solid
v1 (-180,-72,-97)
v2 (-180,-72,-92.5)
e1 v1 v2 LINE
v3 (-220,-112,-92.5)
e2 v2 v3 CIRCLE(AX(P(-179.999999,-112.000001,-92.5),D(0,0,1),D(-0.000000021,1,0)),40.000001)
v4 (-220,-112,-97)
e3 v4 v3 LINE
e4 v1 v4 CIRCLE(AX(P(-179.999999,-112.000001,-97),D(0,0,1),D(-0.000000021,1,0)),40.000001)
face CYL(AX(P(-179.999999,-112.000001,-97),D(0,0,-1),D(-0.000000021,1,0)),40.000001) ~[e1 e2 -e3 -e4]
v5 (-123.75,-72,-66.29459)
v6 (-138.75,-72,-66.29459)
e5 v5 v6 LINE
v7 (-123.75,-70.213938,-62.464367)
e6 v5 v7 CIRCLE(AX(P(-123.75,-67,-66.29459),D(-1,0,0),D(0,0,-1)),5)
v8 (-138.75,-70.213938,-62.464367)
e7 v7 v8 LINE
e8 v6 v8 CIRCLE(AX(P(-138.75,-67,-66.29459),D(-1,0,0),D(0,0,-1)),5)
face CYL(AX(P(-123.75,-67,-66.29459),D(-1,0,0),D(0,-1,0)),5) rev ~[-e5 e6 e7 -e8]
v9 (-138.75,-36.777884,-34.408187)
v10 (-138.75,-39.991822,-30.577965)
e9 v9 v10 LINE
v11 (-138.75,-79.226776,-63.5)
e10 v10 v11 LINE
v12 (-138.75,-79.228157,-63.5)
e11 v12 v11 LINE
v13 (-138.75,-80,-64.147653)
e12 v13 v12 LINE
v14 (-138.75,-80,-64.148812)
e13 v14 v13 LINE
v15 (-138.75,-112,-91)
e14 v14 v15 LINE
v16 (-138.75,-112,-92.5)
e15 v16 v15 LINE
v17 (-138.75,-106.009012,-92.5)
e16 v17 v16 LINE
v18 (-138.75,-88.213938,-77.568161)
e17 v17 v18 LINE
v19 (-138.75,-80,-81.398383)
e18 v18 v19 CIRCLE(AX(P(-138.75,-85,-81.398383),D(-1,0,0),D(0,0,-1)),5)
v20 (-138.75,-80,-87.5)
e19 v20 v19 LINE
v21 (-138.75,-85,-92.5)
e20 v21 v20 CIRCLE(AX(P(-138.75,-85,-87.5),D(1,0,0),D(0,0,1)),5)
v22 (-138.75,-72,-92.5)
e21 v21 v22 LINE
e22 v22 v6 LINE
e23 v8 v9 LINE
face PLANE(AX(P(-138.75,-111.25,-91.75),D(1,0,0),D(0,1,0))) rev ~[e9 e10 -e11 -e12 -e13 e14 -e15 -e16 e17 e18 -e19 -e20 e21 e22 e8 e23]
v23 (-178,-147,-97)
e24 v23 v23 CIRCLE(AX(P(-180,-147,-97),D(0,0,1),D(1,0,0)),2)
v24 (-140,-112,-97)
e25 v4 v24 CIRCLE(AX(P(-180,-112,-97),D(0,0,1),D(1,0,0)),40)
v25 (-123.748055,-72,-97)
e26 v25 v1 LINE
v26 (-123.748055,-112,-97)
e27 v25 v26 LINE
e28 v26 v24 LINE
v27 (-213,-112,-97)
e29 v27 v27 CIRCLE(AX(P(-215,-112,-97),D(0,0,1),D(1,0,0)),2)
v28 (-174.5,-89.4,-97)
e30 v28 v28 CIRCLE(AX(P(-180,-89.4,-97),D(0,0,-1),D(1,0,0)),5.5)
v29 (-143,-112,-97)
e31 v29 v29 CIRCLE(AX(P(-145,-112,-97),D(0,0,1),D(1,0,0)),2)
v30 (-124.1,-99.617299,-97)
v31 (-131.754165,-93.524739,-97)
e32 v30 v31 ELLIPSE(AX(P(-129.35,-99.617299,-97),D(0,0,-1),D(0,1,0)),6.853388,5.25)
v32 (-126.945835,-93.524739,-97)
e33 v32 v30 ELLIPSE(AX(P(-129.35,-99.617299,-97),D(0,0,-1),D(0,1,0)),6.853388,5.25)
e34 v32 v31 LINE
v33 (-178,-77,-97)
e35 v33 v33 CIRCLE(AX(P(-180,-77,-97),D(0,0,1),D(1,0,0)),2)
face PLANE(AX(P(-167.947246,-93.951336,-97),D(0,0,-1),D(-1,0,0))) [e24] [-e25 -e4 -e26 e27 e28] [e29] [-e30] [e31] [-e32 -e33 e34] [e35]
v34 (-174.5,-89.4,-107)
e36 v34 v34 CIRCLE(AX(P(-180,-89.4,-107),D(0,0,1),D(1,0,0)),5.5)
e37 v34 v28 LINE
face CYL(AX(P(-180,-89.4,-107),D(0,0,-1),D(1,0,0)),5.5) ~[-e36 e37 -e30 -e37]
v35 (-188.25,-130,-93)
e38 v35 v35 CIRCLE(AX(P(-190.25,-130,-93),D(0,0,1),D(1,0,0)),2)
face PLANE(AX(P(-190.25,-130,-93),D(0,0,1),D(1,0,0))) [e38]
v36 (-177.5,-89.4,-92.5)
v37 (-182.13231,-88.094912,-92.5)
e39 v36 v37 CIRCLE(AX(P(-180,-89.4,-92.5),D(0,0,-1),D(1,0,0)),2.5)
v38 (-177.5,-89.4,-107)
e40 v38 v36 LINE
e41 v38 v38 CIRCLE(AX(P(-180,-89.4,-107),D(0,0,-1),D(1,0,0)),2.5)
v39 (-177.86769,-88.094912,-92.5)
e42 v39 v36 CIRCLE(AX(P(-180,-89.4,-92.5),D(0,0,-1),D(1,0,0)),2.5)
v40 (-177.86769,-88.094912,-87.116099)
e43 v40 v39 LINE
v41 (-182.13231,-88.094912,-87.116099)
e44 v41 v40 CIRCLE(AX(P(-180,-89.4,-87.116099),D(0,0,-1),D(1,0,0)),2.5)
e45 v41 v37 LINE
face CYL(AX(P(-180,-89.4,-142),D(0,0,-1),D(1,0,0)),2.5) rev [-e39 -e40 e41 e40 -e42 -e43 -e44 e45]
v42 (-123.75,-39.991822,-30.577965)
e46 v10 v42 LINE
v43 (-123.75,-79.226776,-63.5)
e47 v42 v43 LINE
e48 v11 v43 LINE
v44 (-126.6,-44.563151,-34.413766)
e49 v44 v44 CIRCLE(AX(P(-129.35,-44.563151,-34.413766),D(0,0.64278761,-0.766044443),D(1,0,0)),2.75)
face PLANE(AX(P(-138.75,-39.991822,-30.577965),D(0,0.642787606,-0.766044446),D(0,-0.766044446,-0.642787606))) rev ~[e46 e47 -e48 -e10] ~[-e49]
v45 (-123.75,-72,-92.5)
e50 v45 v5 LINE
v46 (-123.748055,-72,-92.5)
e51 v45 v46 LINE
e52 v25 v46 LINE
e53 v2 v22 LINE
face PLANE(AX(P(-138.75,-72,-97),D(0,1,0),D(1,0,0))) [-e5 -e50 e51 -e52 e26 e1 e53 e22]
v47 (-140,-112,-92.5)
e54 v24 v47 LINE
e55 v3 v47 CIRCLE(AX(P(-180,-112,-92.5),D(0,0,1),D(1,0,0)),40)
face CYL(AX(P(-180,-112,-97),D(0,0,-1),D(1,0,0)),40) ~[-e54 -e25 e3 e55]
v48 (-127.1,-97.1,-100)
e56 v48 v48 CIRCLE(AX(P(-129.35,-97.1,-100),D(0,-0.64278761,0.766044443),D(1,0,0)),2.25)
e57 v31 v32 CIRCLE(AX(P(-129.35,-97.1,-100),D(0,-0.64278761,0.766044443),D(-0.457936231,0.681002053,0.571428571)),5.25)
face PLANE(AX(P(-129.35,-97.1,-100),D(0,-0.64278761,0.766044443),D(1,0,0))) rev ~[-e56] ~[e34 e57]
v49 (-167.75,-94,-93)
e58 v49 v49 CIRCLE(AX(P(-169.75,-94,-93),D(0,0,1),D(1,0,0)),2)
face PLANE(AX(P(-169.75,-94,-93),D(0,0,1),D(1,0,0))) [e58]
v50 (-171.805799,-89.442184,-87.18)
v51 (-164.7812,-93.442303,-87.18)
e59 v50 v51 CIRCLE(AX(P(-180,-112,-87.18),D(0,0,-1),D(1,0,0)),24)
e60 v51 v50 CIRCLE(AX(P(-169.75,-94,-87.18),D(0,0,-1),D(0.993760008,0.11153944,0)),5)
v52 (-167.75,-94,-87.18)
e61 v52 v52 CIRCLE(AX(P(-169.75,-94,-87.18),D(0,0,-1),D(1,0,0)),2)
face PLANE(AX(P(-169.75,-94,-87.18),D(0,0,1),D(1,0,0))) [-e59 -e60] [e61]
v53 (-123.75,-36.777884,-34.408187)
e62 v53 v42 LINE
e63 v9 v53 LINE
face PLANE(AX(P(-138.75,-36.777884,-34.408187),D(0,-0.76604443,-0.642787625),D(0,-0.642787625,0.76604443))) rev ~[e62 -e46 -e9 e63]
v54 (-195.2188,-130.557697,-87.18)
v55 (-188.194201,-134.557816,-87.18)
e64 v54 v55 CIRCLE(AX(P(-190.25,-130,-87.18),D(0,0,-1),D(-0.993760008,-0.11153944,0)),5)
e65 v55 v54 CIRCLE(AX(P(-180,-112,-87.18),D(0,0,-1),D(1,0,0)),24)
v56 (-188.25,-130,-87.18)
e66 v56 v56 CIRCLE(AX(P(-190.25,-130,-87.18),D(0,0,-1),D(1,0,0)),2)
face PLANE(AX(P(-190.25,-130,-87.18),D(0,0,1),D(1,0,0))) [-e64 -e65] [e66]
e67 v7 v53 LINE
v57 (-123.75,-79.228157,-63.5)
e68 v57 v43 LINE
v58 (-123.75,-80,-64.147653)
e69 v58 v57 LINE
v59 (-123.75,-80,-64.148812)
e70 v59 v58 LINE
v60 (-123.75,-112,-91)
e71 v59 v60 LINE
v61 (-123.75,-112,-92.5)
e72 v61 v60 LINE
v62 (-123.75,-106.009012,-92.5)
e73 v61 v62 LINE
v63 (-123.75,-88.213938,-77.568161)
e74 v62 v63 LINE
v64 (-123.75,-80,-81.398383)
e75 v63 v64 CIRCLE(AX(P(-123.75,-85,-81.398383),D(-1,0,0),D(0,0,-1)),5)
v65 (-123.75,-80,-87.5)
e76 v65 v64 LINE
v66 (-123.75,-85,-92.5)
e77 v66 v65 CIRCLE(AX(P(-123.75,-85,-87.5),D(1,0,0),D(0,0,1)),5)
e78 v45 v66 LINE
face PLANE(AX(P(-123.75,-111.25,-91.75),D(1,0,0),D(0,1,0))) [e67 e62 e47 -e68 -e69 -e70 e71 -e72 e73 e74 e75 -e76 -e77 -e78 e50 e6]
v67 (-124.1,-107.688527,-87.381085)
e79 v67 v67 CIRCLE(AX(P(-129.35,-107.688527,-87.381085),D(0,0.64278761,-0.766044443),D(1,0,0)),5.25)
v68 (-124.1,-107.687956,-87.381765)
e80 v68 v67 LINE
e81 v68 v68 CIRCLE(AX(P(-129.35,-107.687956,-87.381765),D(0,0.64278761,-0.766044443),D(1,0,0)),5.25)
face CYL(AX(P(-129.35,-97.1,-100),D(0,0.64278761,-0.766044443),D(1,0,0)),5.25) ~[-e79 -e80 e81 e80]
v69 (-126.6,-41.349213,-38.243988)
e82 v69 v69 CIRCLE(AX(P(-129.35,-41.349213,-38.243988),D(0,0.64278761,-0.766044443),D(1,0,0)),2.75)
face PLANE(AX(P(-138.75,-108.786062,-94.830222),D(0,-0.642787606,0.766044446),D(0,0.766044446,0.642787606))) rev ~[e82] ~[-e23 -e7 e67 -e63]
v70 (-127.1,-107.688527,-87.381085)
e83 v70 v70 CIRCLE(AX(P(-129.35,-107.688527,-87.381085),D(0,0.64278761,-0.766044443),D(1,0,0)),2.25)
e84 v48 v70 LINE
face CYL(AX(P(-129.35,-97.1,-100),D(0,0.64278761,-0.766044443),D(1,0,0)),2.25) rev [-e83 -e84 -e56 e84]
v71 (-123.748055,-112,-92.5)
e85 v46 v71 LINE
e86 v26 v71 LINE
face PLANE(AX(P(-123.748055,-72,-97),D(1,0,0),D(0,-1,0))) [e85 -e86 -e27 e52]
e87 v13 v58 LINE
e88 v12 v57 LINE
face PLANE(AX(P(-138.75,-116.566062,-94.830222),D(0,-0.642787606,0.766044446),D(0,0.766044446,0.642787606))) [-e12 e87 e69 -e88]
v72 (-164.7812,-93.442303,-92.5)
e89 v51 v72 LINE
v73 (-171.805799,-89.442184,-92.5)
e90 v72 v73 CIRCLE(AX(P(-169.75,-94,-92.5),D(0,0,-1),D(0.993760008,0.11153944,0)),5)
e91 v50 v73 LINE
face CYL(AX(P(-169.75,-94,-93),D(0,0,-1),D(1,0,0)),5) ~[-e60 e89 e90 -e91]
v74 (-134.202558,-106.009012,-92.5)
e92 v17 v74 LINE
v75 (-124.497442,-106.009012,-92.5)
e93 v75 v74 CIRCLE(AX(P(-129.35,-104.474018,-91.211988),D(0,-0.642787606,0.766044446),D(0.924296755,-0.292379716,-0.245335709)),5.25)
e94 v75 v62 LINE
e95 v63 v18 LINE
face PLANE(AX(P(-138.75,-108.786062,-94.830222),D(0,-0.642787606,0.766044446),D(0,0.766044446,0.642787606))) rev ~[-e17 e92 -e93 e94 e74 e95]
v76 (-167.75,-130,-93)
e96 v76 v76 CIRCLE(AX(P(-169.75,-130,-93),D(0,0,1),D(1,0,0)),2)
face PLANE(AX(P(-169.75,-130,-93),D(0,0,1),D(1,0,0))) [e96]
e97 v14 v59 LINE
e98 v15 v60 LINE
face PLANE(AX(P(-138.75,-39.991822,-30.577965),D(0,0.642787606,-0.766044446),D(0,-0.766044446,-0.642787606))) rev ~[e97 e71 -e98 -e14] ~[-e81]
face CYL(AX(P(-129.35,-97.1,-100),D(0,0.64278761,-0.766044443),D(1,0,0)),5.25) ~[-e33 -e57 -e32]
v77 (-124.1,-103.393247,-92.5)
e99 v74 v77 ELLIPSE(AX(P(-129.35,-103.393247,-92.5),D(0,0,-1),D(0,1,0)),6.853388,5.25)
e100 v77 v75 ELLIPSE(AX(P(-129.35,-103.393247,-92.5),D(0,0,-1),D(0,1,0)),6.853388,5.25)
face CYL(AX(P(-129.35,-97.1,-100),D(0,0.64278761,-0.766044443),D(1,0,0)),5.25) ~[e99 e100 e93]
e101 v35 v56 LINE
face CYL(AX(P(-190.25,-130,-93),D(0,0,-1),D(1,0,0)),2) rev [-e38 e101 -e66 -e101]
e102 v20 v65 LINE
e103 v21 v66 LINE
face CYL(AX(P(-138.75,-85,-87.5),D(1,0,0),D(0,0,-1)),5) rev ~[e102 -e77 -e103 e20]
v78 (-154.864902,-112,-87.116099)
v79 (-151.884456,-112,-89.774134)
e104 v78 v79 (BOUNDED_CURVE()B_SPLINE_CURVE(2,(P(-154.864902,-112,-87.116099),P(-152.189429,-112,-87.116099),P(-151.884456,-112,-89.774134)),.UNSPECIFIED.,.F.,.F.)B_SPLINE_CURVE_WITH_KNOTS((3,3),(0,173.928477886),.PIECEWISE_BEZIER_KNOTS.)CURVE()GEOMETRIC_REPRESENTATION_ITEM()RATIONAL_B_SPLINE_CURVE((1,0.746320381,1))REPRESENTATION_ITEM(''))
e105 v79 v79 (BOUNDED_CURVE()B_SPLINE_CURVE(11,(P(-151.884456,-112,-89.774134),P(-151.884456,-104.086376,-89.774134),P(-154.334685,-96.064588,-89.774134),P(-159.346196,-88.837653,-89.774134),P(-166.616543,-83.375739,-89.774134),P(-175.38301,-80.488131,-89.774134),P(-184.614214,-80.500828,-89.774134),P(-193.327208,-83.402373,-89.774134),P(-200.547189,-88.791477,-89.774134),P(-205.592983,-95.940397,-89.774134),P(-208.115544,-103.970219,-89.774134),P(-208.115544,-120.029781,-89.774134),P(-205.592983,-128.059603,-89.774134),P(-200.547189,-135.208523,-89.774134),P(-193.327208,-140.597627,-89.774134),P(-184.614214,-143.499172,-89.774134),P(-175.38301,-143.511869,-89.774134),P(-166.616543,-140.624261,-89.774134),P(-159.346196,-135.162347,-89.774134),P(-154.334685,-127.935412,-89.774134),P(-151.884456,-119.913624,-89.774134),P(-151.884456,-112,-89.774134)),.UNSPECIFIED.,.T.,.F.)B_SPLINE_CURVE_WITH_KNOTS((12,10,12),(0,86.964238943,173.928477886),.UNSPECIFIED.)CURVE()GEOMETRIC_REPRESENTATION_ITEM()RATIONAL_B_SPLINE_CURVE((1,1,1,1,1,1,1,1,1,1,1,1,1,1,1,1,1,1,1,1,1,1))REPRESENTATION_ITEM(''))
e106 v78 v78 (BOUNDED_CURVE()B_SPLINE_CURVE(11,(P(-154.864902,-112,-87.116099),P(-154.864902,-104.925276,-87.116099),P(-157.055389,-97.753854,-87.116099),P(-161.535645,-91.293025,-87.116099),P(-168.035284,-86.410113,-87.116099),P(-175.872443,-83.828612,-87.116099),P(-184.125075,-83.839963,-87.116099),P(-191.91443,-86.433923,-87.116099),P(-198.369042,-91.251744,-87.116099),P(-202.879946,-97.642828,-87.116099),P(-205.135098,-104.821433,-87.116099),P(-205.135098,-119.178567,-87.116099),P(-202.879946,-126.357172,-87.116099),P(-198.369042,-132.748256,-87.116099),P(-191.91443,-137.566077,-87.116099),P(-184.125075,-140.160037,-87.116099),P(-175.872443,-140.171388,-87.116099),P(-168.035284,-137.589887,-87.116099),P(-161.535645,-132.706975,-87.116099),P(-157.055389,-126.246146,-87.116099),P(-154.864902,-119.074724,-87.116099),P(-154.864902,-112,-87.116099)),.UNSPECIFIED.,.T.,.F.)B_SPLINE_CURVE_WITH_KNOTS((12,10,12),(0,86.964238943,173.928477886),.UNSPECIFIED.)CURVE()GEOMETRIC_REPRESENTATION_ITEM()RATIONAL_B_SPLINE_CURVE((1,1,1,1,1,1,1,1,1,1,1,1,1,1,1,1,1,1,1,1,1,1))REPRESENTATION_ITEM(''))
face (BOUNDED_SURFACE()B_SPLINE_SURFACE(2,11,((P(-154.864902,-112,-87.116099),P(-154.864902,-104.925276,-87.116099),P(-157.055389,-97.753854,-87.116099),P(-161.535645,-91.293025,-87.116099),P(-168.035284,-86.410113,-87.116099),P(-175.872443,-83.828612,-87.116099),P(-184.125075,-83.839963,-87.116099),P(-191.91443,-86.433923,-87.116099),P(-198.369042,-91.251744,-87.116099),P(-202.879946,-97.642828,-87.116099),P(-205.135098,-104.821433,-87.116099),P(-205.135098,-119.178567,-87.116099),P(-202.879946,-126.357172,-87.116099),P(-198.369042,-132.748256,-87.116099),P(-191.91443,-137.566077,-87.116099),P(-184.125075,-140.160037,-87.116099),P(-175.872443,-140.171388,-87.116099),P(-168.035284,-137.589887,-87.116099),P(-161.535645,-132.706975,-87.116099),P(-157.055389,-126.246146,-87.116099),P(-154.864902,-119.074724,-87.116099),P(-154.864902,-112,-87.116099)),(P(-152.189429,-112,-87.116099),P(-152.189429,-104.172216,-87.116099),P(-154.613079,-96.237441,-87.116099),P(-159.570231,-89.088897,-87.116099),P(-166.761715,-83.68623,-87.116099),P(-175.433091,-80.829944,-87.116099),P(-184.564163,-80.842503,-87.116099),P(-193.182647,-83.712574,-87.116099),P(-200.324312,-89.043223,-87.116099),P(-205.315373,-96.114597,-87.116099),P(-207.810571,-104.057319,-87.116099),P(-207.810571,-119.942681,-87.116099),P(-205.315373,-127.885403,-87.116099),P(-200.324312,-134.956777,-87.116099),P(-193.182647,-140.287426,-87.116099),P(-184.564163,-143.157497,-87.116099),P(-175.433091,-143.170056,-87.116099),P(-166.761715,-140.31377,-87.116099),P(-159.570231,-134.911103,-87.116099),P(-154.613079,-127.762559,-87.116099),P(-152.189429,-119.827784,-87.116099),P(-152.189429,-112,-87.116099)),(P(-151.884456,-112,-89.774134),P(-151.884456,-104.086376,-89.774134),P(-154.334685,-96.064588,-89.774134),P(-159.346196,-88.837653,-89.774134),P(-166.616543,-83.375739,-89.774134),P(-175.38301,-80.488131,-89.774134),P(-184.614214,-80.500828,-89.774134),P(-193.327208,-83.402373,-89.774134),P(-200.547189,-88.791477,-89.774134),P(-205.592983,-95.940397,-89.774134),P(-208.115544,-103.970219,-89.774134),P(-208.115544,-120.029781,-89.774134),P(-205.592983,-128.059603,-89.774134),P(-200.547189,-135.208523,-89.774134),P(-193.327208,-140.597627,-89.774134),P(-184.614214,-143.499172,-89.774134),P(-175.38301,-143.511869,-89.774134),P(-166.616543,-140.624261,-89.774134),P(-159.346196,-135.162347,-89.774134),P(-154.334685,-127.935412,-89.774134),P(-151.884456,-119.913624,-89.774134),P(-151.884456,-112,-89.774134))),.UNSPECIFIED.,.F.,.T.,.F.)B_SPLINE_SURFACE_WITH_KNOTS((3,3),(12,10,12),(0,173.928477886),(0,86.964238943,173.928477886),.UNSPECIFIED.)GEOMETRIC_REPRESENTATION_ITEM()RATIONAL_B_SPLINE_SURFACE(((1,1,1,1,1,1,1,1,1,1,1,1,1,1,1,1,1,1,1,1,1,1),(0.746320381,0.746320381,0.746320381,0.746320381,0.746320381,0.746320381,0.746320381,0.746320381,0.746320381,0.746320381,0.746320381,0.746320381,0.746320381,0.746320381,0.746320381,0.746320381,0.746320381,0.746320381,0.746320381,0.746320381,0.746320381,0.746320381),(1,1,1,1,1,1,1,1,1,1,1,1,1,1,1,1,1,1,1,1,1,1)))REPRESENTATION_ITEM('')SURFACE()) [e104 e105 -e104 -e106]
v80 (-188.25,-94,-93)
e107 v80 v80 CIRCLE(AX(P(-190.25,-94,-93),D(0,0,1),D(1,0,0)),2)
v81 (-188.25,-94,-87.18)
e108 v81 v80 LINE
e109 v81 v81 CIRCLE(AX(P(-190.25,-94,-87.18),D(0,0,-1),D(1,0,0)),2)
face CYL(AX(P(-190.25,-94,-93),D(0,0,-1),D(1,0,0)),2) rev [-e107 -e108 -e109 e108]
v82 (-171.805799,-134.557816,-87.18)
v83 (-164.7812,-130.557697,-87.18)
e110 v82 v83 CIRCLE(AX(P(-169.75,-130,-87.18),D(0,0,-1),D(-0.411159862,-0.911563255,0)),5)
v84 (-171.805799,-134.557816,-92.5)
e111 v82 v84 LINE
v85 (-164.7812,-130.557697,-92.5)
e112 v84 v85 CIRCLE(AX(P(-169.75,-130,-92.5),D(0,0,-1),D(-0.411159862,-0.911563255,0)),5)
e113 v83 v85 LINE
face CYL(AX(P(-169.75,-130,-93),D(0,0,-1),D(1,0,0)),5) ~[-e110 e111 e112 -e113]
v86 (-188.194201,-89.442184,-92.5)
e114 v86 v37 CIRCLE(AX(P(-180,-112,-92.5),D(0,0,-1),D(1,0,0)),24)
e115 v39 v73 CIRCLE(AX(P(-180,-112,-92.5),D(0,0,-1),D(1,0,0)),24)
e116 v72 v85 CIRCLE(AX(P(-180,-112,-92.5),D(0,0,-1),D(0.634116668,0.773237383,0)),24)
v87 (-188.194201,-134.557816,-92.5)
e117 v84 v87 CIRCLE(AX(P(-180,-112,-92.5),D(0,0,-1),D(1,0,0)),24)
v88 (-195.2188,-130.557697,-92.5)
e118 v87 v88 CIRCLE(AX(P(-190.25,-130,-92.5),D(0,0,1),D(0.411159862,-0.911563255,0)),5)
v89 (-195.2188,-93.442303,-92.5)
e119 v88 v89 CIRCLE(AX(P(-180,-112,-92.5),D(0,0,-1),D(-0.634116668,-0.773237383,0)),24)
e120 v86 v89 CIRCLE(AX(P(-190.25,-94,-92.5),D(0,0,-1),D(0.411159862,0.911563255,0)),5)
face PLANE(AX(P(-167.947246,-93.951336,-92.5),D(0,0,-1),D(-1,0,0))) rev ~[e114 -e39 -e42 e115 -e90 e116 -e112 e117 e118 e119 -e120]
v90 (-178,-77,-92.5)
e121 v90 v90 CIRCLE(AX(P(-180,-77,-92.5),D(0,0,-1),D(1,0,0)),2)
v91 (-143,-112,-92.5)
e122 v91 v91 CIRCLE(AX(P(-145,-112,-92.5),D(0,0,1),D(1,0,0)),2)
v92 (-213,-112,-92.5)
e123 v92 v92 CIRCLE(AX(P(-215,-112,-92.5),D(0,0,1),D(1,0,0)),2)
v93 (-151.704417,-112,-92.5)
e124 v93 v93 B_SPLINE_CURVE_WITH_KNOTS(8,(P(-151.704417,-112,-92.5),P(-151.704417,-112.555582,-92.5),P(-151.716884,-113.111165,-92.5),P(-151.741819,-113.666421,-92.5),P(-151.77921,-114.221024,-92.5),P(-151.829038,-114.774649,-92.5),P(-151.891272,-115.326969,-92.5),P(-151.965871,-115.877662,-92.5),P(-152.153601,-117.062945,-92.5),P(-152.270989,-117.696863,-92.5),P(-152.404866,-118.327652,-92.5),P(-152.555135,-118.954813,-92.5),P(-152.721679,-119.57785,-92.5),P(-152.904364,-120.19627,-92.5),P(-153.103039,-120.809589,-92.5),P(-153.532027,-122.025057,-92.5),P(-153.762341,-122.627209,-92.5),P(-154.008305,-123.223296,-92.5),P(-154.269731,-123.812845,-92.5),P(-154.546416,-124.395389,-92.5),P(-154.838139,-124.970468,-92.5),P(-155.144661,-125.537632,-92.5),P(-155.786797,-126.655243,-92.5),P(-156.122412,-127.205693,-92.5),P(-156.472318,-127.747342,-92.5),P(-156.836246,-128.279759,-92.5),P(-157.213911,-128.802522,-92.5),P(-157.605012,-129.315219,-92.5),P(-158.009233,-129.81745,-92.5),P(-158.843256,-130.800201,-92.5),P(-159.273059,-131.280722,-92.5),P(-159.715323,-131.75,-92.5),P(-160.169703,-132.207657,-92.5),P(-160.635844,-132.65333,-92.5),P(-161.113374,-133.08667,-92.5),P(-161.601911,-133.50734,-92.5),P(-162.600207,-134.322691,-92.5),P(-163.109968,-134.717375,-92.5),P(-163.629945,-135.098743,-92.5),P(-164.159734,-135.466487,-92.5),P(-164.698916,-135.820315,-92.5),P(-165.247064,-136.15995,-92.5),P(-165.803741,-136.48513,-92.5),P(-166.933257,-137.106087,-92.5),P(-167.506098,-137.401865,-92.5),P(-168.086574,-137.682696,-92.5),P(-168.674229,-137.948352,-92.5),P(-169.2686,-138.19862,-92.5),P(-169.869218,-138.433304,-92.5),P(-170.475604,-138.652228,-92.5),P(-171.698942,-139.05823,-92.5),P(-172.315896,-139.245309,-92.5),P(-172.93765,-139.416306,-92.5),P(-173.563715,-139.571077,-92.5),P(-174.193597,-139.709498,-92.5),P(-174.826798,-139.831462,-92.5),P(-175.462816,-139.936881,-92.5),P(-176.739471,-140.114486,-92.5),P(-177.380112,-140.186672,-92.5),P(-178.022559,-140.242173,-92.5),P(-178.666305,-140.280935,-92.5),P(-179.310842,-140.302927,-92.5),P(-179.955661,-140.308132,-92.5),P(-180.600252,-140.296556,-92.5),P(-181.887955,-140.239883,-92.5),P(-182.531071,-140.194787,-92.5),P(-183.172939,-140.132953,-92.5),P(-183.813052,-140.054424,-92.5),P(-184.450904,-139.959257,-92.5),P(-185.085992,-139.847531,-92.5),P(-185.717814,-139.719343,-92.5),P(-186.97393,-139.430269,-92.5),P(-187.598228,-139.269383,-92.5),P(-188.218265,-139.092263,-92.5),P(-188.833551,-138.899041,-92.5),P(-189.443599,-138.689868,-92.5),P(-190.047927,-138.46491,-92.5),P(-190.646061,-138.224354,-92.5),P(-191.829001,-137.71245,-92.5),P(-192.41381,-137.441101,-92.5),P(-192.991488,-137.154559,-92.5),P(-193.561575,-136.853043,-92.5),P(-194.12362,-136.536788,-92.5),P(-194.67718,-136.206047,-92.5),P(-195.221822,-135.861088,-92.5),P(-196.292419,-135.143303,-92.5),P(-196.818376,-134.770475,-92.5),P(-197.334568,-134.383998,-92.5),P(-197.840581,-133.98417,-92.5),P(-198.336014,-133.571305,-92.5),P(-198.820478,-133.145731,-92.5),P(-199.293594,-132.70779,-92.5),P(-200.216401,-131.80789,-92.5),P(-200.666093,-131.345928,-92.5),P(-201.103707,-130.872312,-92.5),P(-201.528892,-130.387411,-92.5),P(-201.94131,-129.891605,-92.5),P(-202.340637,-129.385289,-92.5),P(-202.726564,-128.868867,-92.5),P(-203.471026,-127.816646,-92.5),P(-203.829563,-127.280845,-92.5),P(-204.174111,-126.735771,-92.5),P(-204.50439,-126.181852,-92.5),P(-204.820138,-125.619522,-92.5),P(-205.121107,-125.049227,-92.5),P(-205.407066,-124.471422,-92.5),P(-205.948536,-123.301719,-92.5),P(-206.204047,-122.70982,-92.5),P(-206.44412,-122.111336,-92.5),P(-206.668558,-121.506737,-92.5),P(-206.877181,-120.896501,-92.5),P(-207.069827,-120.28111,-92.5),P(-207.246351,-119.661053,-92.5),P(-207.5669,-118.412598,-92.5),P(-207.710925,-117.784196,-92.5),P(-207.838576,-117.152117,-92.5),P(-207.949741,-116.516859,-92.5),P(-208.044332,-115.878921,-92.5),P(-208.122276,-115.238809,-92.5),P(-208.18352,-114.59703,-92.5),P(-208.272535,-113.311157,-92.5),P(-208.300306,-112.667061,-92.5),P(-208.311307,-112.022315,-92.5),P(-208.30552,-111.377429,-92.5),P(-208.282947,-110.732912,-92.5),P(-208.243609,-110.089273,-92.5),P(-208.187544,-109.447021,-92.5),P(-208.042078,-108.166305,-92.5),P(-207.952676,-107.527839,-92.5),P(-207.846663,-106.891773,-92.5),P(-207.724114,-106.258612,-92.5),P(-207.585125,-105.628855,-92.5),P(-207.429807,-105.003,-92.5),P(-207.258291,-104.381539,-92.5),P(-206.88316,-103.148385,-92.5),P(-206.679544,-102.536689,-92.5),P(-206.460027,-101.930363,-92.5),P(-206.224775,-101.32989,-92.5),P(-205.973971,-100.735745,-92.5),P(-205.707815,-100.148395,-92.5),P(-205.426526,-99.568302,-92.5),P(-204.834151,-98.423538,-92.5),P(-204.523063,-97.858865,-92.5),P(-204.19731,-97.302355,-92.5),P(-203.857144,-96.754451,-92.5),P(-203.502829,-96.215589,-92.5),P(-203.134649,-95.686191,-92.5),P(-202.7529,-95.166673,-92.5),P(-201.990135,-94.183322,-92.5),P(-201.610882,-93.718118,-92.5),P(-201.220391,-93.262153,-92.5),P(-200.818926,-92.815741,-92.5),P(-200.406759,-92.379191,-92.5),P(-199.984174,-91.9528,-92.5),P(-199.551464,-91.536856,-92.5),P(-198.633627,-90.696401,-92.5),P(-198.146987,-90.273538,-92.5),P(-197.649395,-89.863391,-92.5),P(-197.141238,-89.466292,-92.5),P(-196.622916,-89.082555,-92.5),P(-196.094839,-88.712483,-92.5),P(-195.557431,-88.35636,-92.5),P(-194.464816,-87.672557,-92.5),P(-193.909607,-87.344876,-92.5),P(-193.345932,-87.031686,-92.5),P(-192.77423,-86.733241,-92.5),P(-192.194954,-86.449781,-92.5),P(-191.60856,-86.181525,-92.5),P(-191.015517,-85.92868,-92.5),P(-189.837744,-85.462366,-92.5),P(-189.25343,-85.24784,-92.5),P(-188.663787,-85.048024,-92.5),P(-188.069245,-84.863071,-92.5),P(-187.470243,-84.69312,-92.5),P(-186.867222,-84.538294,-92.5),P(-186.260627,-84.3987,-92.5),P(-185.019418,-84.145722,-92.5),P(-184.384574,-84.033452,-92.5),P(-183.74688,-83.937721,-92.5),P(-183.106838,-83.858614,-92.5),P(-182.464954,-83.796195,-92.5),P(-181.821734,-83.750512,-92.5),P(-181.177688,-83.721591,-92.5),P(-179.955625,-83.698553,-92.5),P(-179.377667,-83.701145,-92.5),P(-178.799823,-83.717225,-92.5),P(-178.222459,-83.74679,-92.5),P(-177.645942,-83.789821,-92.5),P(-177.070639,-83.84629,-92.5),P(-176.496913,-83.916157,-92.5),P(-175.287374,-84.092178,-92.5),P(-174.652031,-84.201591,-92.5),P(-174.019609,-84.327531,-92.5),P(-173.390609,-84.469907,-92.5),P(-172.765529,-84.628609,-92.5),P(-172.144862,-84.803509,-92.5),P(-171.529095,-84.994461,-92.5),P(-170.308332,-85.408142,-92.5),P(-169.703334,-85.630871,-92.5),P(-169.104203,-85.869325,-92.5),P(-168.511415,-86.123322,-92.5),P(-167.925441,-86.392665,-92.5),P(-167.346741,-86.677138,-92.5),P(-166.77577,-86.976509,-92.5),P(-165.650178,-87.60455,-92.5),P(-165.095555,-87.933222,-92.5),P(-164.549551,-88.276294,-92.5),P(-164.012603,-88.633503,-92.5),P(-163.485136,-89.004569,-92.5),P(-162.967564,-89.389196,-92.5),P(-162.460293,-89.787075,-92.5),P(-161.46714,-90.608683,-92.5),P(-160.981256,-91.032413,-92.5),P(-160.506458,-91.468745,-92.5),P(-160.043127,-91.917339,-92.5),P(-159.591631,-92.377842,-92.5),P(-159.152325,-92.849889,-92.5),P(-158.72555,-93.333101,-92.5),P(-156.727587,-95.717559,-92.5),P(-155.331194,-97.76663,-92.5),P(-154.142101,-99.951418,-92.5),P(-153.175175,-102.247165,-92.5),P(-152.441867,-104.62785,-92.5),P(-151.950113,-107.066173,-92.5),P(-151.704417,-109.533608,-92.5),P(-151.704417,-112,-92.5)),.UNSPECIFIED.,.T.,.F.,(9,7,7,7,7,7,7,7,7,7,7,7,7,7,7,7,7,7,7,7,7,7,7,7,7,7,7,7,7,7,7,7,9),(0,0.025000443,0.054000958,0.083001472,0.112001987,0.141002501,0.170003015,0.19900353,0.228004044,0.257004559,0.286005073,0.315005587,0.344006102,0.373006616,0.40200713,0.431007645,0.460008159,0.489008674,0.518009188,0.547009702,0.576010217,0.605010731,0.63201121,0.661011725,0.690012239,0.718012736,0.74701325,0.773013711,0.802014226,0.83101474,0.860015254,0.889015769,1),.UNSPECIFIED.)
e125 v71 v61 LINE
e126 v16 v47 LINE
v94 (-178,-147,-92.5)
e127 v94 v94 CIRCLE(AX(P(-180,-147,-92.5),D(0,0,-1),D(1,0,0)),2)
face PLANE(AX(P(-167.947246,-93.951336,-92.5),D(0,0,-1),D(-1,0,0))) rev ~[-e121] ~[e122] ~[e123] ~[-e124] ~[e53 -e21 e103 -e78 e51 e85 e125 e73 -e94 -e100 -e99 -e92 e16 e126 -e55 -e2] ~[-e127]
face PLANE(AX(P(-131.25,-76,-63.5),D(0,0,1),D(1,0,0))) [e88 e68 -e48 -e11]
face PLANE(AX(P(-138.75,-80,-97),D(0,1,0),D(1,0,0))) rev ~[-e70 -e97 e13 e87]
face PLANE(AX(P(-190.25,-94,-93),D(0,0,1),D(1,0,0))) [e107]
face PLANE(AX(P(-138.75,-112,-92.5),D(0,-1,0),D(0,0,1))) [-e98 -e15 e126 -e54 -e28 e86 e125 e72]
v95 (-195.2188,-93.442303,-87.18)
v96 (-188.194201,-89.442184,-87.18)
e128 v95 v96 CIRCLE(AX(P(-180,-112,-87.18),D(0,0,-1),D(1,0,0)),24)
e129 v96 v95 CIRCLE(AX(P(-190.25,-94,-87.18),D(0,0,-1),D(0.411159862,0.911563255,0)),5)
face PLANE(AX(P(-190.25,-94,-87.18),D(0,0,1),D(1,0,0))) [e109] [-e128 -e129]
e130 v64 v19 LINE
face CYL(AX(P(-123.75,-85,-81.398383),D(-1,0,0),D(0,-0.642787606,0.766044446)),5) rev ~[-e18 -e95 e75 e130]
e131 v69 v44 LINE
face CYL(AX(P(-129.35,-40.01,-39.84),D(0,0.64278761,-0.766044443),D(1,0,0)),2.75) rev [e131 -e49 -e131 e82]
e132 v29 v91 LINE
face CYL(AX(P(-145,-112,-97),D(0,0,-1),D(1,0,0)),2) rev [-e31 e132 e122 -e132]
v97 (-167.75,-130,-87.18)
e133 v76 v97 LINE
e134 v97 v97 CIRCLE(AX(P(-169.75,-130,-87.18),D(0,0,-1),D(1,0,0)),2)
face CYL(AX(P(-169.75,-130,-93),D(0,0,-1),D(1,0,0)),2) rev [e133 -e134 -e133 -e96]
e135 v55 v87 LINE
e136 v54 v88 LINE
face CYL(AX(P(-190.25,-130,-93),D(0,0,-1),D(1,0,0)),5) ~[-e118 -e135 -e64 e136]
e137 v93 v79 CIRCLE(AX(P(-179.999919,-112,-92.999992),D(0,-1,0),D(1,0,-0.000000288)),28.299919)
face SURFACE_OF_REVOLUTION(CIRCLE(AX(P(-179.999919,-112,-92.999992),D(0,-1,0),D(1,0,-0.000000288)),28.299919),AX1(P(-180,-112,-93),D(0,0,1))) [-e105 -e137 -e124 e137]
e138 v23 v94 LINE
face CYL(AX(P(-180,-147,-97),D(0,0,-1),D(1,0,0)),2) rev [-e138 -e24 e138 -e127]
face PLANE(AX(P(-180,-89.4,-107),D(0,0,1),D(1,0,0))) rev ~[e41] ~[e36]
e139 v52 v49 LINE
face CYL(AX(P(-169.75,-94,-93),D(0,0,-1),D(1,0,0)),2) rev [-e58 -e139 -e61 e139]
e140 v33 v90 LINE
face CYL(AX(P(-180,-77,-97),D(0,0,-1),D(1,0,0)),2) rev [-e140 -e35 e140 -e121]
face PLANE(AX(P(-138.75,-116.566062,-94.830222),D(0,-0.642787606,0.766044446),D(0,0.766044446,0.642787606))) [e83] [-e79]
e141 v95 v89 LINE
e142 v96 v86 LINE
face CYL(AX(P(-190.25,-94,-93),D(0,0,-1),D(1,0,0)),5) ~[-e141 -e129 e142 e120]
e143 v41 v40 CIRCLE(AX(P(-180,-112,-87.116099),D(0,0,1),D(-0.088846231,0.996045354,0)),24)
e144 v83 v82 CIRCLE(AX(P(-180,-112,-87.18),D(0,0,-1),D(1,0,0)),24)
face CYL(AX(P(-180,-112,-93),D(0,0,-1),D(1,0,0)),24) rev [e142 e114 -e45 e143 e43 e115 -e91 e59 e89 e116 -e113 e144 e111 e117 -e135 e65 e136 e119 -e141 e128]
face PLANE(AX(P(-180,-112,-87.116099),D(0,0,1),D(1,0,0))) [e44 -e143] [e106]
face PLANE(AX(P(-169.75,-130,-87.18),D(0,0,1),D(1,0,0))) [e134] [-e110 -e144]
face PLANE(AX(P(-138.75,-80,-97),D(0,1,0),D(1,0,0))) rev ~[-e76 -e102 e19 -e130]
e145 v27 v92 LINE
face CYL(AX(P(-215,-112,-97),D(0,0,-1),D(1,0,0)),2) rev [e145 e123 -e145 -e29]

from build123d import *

# Parameters (mm, degrees)
SKETCH069_W                 = 1.5
SKETCH069_H                 = 1.5
EXTRUDE022_DEPTH            = 15
EXTRUDE021_DEPTH            = 15
CYLINDER126_R               = 2.75
CYLINDER126_DEPTH           = 10
CYLINDER126_PLACEMENT_ANGLE = 40
CYLINDER127_R               = 2.25
CYLINDER127_DEPTH           = 21
CYLINDER127_PLACEMENT_ANGLE = 40
CYLINDER117_R               = 2
CYLINDER117_DEPTH           = 10
CYLINDER118_R               = 2
CYLINDER118_DEPTH           = 10
CYLINDER119_R               = 2
CYLINDER119_DEPTH           = 10
CYLINDER116_R               = 2
CYLINDER116_DEPTH           = 10
CYLINDER124_R               = 2.5
CYLINDER124_DEPTH           = 60
CYLINDER120_R               = 2
CYLINDER120_DEPTH           = 10
CYLINDER121_R               = 2
CYLINDER121_DEPTH           = 10
CYLINDER122_R               = 2
CYLINDER122_DEPTH           = 10
CYLINDER123_R               = 2
CYLINDER123_DEPTH           = 10
EXTRUDE019_DEPTH            = 4.5
CYLINDER101_R               = 2
CYLINDER101_DEPTH           = 10
CYLINDER102_R               = 2
CYLINDER102_DEPTH           = 10
CYLINDER103_R               = 2
CYLINDER103_DEPTH           = 10
CYLINDER100_R               = 2
CYLINDER100_DEPTH           = 10
CYLINDER110_R               = 2.5
CYLINDER110_DEPTH           = 60
CYLINDER104_R               = 2
CYLINDER104_DEPTH           = 10
CYLINDER105_R               = 2
CYLINDER105_DEPTH           = 10
CYLINDER106_R               = 2
CYLINDER106_DEPTH           = 10
CYLINDER107_R               = 2
CYLINDER107_DEPTH           = 10
CYLINDER094_R               = 5.5
CYLINDER094_DEPTH           = 14.5
CYLINDER096_R               = 5
CYLINDER096_DEPTH           = 5.82
CYLINDER097_R               = 5
CYLINDER097_DEPTH           = 5.82
CYLINDER098_R               = 5
CYLINDER098_DEPTH           = 5.82
CYLINDER099_R               = 5
CYLINDER099_DEPTH           = 5.82
CYLINDER092_R               = 40
CYLINDER092_DEPTH           = 4.5
CYLINDER093_R               = 24
CYLINDER093_DEPTH           = 7
SKETCH067_W                 = 15
SKETCH067_H                 = 8
EXTRUDE020_DEPTH            = 33.5
CYLINDER125_R               = 5.25
CYLINDER125_DEPTH           = 21
CYLINDER125_PLACEMENT_ANGLE = 40
EXTRUDE017_DEPTH            = 15
FILLET039_R                 = 3
FILLET040_R                 = 5


with BuildPart() as extrude022:
    # Sketch069 → Extrude022 (new body)
    with BuildSketch(Plane.YZ):
        with Locations((-111.25, -91.75)):
            Rectangle(SKETCH069_W, SKETCH069_H)
    extrude(amount=EXTRUDE022_DEPTH)


with BuildPart() as extrude022_1:
    # Extrude022 placement: moved
    add(extrude022.part.moved(Location((-138.75, 0, 0))))


with BuildPart() as lightmodulecut002:
    # Sketch068 → Extrude021 (new body)
    with BuildSketch(Plane.YZ):
        Polygon((-112, -91), (-108.786062, -94.830222), (-36.777884, -34.408187), (-39.991822, -30.577965), align=None)
    extrude(amount=EXTRUDE021_DEPTH)


with BuildPart() as lightmodulecut002_1:
    # Extrude021 placement: moved
    add(lightmodulecut002.part.moved(Location((-138.75, -7.78, 0))))


with BuildPart() as cylinder126:
    # Cylinder126 → Cylinder126 (new body)
    with BuildSketch(Plane.XY):
        Circle(CYLINDER126_R)
    extrude(amount=CYLINDER126_DEPTH)


with BuildPart() as cylinder126_1:
    # Cylinder126 placement: moved
    add(cylinder126.part.moved(Location((-129.35, -40.01, -39.84))).rotate(Axis((-129.35, -40.01, -39.84), (1, 0, 0)), CYLINDER126_PLACEMENT_ANGLE))


with BuildPart() as fusion073:
    # Cylinder127 → Cylinder127 (new body)
    with BuildSketch(Plane.XY):
        Circle(CYLINDER127_R)
    extrude(amount=CYLINDER127_DEPTH)


with BuildPart() as fusion073_1:
    # Cylinder127 placement: moved
    add(fusion073.part.moved(Location((-129.35, -97.1, -100))).rotate(Axis((-129.35, -97.1, -100), (1, 0, 0)), CYLINDER127_PLACEMENT_ANGLE))

    # Fusion072: union Cylinder126
    add(cylinder126_1.part)

    # Fusion073: union lightModuleCut002
    add(lightmodulecut002_1.part)


with BuildPart() as m2heatsetinsets009:
    # Cylinder117 → Cylinder117 (new body)
    with BuildSketch(Plane(origin=(40, 0, 65), x_dir=(1, 0, 0), z_dir=(0, 0, 1))):
        Circle(CYLINDER117_R)
    extrude(amount=CYLINDER117_DEPTH)


with BuildPart() as m2heatsetinsets010:
    # Cylinder118 → Cylinder118 (new body)
    with BuildSketch(Plane(origin=(5, 35, 65), x_dir=(1, 0, 0), z_dir=(0, 0, 1))):
        Circle(CYLINDER118_R)
    extrude(amount=CYLINDER118_DEPTH)


with BuildPart() as m2heatsetinsets011:
    # Cylinder119 → Cylinder119 (new body)
    with BuildSketch(Plane(origin=(5, -35, 65), x_dir=(1, 0, 0), z_dir=(0, 0, 1))):
        Circle(CYLINDER119_R)
    extrude(amount=CYLINDER119_DEPTH)


with BuildPart() as fusion066:
    # Cylinder116 → Cylinder116 (new body)
    with BuildSketch(Plane(origin=(-30, 0, 65), x_dir=(1, 0, 0), z_dir=(0, 0, 1))):
        Circle(CYLINDER116_R)
    extrude(amount=CYLINDER116_DEPTH)

    # Fusion066: union m2HeatSetInsets009, m2HeatSetInsets010, m2HeatSetInsets011
    add(m2heatsetinsets009.part)
    add(m2heatsetinsets010.part)
    add(m2heatsetinsets011.part)


with BuildPart() as fusion066_1:
    # Fusion066 placement: moved
    add(fusion066.part.moved(Location((129, 10, 0))))


with BuildPart() as wirecut002:
    # Cylinder124 → Cylinder124 (new body)
    with BuildSketch(Plane(origin=(134, 32.6, 20), x_dir=(1, 0, 0), z_dir=(0, 0, 1))):
        Circle(CYLINDER124_R)
    extrude(amount=CYLINDER124_DEPTH)


with BuildPart() as cylinder120:
    # Cylinder120 → Cylinder120 (new body)
    with BuildSketch(Plane(origin=(0, -21, 0), x_dir=(1, 0, 0), z_dir=(0, 0, 1))):
        Circle(CYLINDER120_R)
    extrude(amount=CYLINDER120_DEPTH)


with BuildPart() as m3heatsetcuts013:
    # Cylinder121 → Cylinder121 (new body)
    with BuildSketch(Plane(origin=(20.5, -21, 0), x_dir=(1, 0, 0), z_dir=(0, 0, 1))):
        Circle(CYLINDER121_R)
    extrude(amount=CYLINDER121_DEPTH)

    # Fusion068: union Cylinder120
    add(cylinder120.part)


with BuildPart() as m3heatsetcuts013_1:
    # Fusion068 placement: moved
    add(m3heatsetcuts013.part.moved(Location((-5, 39, 70))))


with BuildPart() as cylinder122:
    # Cylinder122 → Cylinder122 (new body)
    with BuildSketch(Plane(origin=(0, -21, 0), x_dir=(1, 0, 0), z_dir=(0, 0, 1))):
        Circle(CYLINDER122_R)
    extrude(amount=CYLINDER122_DEPTH)


with BuildPart() as lightmodulecut003:
    # Cylinder123 → Cylinder123 (new body)
    with BuildSketch(Plane(origin=(20.5, -21, 0), x_dir=(1, 0, 0), z_dir=(0, 0, 1))):
        Circle(CYLINDER123_R)
    extrude(amount=CYLINDER123_DEPTH)

    # Fusion069: union Cylinder122
    add(cylinder122.part)


with BuildPart() as lightmodulecut003_1:
    # Fusion069 placement: moved
    add(lightmodulecut003.part.moved(Location((-5, 3, 70))))

    # Fusion067: union m3HeatSetCuts013
    add(m3heatsetcuts013_1.part)


with BuildPart() as lightmodulecut003_2:
    # Fusion067 placement: moved
    add(lightmodulecut003_1.part.moved(Location((128.75, 10, -1))))

    # Fusion070: union Fusion066, WireCut002
    add(fusion066_1.part)
    add(wirecut002.part)


with BuildPart() as lightmodulecut003_3:
    # Fusion070 placement: moved
    add(lightmodulecut003_2.part.moved(Location((-314, -122, -162))))

    # Fusion075: union Fusion073
    add(fusion073_1.part)


with BuildPart() as lightmodulehold:
    # Sketch063 → Extrude019 (new body)
    with BuildSketch(Plane.XY):
        with BuildLine():
            Line((-180, -72), (-123.748055, -72))
            Line((-123.748055, -72), (-123.748055, -112))
            Line((-123.748055, -112), (-220, -112))
            ThreePointArc((-180, -72), (-208.284271, -83.715729), (-220, -112))
        make_face()
    extrude(amount=EXTRUDE019_DEPTH)


with BuildPart() as lightmodulehold_1:
    # Extrude019 placement: moved
    add(lightmodulehold.part.moved(Location((0, 0, -97))))


with BuildPart() as m2heatsetinsets005:
    # Cylinder101 → Cylinder101 (new body)
    with BuildSketch(Plane(origin=(40, 0, 65), x_dir=(1, 0, 0), z_dir=(0, 0, 1))):
        Circle(CYLINDER101_R)
    extrude(amount=CYLINDER101_DEPTH)


with BuildPart() as m2heatsetinsets006:
    # Cylinder102 → Cylinder102 (new body)
    with BuildSketch(Plane(origin=(5, 35, 65), x_dir=(1, 0, 0), z_dir=(0, 0, 1))):
        Circle(CYLINDER102_R)
    extrude(amount=CYLINDER102_DEPTH)


with BuildPart() as m2heatsetinsets007:
    # Cylinder103 → Cylinder103 (new body)
    with BuildSketch(Plane(origin=(5, -35, 65), x_dir=(1, 0, 0), z_dir=(0, 0, 1))):
        Circle(CYLINDER103_R)
    extrude(amount=CYLINDER103_DEPTH)


with BuildPart() as fusion057:
    # Cylinder100 → Cylinder100 (new body)
    with BuildSketch(Plane(origin=(-30, 0, 65), x_dir=(1, 0, 0), z_dir=(0, 0, 1))):
        Circle(CYLINDER100_R)
    extrude(amount=CYLINDER100_DEPTH)

    # Fusion057: union m2HeatSetInsets005, m2HeatSetInsets006, m2HeatSetInsets007
    add(m2heatsetinsets005.part)
    add(m2heatsetinsets006.part)
    add(m2heatsetinsets007.part)


with BuildPart() as fusion057_1:
    # Fusion057 placement: moved
    add(fusion057.part.moved(Location((129, 10, 0))))


with BuildPart() as wirecut001:
    # Cylinder110 → Cylinder110 (new body)
    with BuildSketch(Plane(origin=(134, 32.6, 20), x_dir=(1, 0, 0), z_dir=(0, 0, 1))):
        Circle(CYLINDER110_R)
    extrude(amount=CYLINDER110_DEPTH)


with BuildPart() as cylinder104:
    # Cylinder104 → Cylinder104 (new body)
    with BuildSketch(Plane(origin=(0, -21, 0), x_dir=(1, 0, 0), z_dir=(0, 0, 1))):
        Circle(CYLINDER104_R)
    extrude(amount=CYLINDER104_DEPTH)


with BuildPart() as m3heatsetcuts010:
    # Cylinder105 → Cylinder105 (new body)
    with BuildSketch(Plane(origin=(20.5, -21, 0), x_dir=(1, 0, 0), z_dir=(0, 0, 1))):
        Circle(CYLINDER105_R)
    extrude(amount=CYLINDER105_DEPTH)

    # Fusion060: union Cylinder104
    add(cylinder104.part)


with BuildPart() as m3heatsetcuts010_1:
    # Fusion060 placement: moved
    add(m3heatsetcuts010.part.moved(Location((-5, 39, 70))))


with BuildPart() as cylinder106:
    # Cylinder106 → Cylinder106 (new body)
    with BuildSketch(Plane(origin=(0, -21, 0), x_dir=(1, 0, 0), z_dir=(0, 0, 1))):
        Circle(CYLINDER106_R)
    extrude(amount=CYLINDER106_DEPTH)


with BuildPart() as lightmodulecut:
    # Cylinder107 → Cylinder107 (new body)
    with BuildSketch(Plane(origin=(20.5, -21, 0), x_dir=(1, 0, 0), z_dir=(0, 0, 1))):
        Circle(CYLINDER107_R)
    extrude(amount=CYLINDER107_DEPTH)

    # Fusion061: union Cylinder106
    add(cylinder106.part)


with BuildPart() as lightmodulecut_1:
    # Fusion061 placement: moved
    add(lightmodulecut.part.moved(Location((-5, 3, 70))))

    # Fusion058: union m3HeatSetCuts010
    add(m3heatsetcuts010_1.part)


with BuildPart() as lightmodulecut_2:
    # Fusion058 placement: moved
    add(lightmodulecut_1.part.moved(Location((128.75, 10, -1))))

    # Fusion062: union Fusion057, WireCut001
    add(fusion057_1.part)
    add(wirecut001.part)


with BuildPart() as cylinder094:
    # Cylinder094 → Cylinder094 (new body)
    with BuildSketch(Plane(origin=(134, 32.6, 55), x_dir=(1, 0, 0), z_dir=(0, 0, 1))):
        Circle(CYLINDER094_R)
    extrude(amount=CYLINDER094_DEPTH)


with BuildPart() as cylinder096:
    # Cylinder096 → Cylinder096 (new body)
    with BuildSketch(Plane(origin=(0, -21, 0), x_dir=(1, 0, 0), z_dir=(0, 0, 1))):
        Circle(CYLINDER096_R)
    extrude(amount=CYLINDER096_DEPTH)


with BuildPart() as m3heatsetcuts006:
    # Cylinder097 → Cylinder097 (new body)
    with BuildSketch(Plane(origin=(20.5, -21, 0), x_dir=(1, 0, 0), z_dir=(0, 0, 1))):
        Circle(CYLINDER097_R)
    extrude(amount=CYLINDER097_DEPTH)

    # Fusion052: union Cylinder096
    add(cylinder096.part)


with BuildPart() as m3heatsetcuts006_1:
    # Fusion052 placement: moved
    add(m3heatsetcuts006.part.moved(Location((-5, 39, 70))))


with BuildPart() as cylinder098:
    # Cylinder098 → Cylinder098 (new body)
    with BuildSketch(Plane(origin=(0, -21, 0), x_dir=(1, 0, 0), z_dir=(0, 0, 1))):
        Circle(CYLINDER098_R)
    extrude(amount=CYLINDER098_DEPTH)


with BuildPart() as m3heatsetcuts008:
    # Cylinder099 → Cylinder099 (new body)
    with BuildSketch(Plane(origin=(20.5, -21, 0), x_dir=(1, 0, 0), z_dir=(0, 0, 1))):
        Circle(CYLINDER099_R)
    extrude(amount=CYLINDER099_DEPTH)

    # Fusion053: union Cylinder098
    add(cylinder098.part)


with BuildPart() as m3heatsetcuts008_1:
    # Fusion053 placement: moved
    add(m3heatsetcuts008.part.moved(Location((-5, 3, 70))))

    # Fusion054: union m3HeatSetCuts006
    add(m3heatsetcuts006_1.part)


with BuildPart() as m3heatsetcuts008_2:
    # Fusion054 placement: moved
    add(m3heatsetcuts008_1.part.moved(Location((128.75, 10, -1))))


with BuildPart() as base008:
    # Cylinder092 → Cylinder092 (new body)
    with BuildSketch(Plane(origin=(136, 0, 65), x_dir=(1, 0, 0), z_dir=(0, 0, 1))):
        Circle(CYLINDER092_R)
    extrude(amount=CYLINDER092_DEPTH)


with BuildPart() as basecut001:
    # Cylinder093 → Cylinder093 (new body)
    with BuildSketch(Plane(origin=(5, 0, 74), x_dir=(1, 0, 0), z_dir=(0, 0, 1))):
        Circle(CYLINDER093_R)
    extrude(amount=CYLINDER093_DEPTH)


with BuildPart() as lightmoduleholder:
    # Sphere003 → Sphere003 (revolve)
    with BuildSketch(Plane(origin=(5, 0, 74), x_dir=(1, 0, 0), z_dir=(0, -1, 0))):
        with BuildLine():
            ThreePointArc((28.3, 0), (28.14497, 2.958156), (27.681577, 5.883901))
            Line((27.681577, 5.883901), (0, 5.883901))
            Line((0, 5.883901), (0, 0))
            Line((0, 0), (28.3, 0))
        make_face()
    revolve(axis=Axis((5, 0, 74), (0, 0, 1)))

    # Cut027: cut baseCut001
    add(basecut001.part, mode=Mode.SUBTRACT)


with BuildPart() as lightmoduleholder_1:
    # Cut027 placement: moved
    add(lightmoduleholder.part.moved(Location((131, 0, -5))))

    # Fusion055: union base008
    add(base008.part)


with BuildPart() as lightmoduleholder_2:
    # Fusion055 placement: moved
    add(lightmoduleholder_1.part.moved(Location((-2, 10, 0))))

    # Fusion056: union Cylinder094, m3HeatSetCuts008
    add(cylinder094.part)
    add(m3heatsetcuts008_2.part)

    # Cut028: cut lightModuleCut
    add(lightmodulecut_2.part, mode=Mode.SUBTRACT)


with BuildPart() as lightmoduleholder_3:
    # Cut028 placement: moved
    add(lightmoduleholder_2.part.moved(Location((-314, -122, -162))))

    # Fusion071: union lightModuleHold
    add(lightmodulehold_1.part)


with BuildPart() as lightbasesupport:
    # Sketch067 → Extrude020 (new body)
    with BuildSketch(Plane.XY):
        with Locations((-131.25, -76)):
            Rectangle(SKETCH067_W, SKETCH067_H)
    extrude(amount=EXTRUDE020_DEPTH)


with BuildPart() as lightbasesupport_1:
    # Extrude020 placement: moved
    add(lightbasesupport.part.moved(Location((0, 0, -97))))


with BuildPart() as lightin:
    # Cylinder125 → Cylinder125 (new body)
    with BuildSketch(Plane.XY):
        Circle(CYLINDER125_R)
    extrude(amount=CYLINDER125_DEPTH)


with BuildPart() as lightin_1:
    # Cylinder125 placement: moved
    add(lightin.part.moved(Location((-129.35, -97.1, -100))).rotate(Axis((-129.35, -97.1, -100), (1, 0, 0)), CYLINDER125_PLACEMENT_ANGLE))


with BuildPart() as lightmodule006:
    # Sketch061 → Extrude017 (new body)
    with BuildSketch(Plane.YZ):
        Polygon((-112, -91), (-108.786062, -94.830222), (-36.777884, -34.408187), (-39.991822, -30.577965), align=None)
    extrude(amount=EXTRUDE017_DEPTH)


with BuildPart() as lightmodule006_1:
    # Extrude017 placement: moved
    add(lightmodule006.part.moved(Location((-138.75, 0, 0))))

    # Fusion074: union lightModuleHolder, lightBaseSupport, lightin
    add(lightmoduleholder_3.part)
    add(lightbasesupport_1.part)
    add(lightin_1.part)

    # Cut030: cut lightModuleCut003
    add(lightmodulecut003_3.part, mode=Mode.SUBTRACT)

    # Fusion076: union Extrude022
    add(extrude022_1.part)

    # Fillet039
    fillet039_edges = [lightmodule006_1.edges().sort_by_distance(p)[0] for p in [
        (-207.681577, -112, -87.116099),
    ]]
    fillet(fillet039_edges, radius=FILLET039_R)

    # Fillet040
    fillet040_edges = [lightmodule006_1.edges().sort_by_distance(p)[0] for p in [
        (-131.25, -80, -92.5),
        (-131.25, -80, -70.675848),
        (-131.25, -72, -63.963051),
    ]]
    fillet(fillet040_edges, radius=FILLET040_R)


solid = lightmodule006_1.part
